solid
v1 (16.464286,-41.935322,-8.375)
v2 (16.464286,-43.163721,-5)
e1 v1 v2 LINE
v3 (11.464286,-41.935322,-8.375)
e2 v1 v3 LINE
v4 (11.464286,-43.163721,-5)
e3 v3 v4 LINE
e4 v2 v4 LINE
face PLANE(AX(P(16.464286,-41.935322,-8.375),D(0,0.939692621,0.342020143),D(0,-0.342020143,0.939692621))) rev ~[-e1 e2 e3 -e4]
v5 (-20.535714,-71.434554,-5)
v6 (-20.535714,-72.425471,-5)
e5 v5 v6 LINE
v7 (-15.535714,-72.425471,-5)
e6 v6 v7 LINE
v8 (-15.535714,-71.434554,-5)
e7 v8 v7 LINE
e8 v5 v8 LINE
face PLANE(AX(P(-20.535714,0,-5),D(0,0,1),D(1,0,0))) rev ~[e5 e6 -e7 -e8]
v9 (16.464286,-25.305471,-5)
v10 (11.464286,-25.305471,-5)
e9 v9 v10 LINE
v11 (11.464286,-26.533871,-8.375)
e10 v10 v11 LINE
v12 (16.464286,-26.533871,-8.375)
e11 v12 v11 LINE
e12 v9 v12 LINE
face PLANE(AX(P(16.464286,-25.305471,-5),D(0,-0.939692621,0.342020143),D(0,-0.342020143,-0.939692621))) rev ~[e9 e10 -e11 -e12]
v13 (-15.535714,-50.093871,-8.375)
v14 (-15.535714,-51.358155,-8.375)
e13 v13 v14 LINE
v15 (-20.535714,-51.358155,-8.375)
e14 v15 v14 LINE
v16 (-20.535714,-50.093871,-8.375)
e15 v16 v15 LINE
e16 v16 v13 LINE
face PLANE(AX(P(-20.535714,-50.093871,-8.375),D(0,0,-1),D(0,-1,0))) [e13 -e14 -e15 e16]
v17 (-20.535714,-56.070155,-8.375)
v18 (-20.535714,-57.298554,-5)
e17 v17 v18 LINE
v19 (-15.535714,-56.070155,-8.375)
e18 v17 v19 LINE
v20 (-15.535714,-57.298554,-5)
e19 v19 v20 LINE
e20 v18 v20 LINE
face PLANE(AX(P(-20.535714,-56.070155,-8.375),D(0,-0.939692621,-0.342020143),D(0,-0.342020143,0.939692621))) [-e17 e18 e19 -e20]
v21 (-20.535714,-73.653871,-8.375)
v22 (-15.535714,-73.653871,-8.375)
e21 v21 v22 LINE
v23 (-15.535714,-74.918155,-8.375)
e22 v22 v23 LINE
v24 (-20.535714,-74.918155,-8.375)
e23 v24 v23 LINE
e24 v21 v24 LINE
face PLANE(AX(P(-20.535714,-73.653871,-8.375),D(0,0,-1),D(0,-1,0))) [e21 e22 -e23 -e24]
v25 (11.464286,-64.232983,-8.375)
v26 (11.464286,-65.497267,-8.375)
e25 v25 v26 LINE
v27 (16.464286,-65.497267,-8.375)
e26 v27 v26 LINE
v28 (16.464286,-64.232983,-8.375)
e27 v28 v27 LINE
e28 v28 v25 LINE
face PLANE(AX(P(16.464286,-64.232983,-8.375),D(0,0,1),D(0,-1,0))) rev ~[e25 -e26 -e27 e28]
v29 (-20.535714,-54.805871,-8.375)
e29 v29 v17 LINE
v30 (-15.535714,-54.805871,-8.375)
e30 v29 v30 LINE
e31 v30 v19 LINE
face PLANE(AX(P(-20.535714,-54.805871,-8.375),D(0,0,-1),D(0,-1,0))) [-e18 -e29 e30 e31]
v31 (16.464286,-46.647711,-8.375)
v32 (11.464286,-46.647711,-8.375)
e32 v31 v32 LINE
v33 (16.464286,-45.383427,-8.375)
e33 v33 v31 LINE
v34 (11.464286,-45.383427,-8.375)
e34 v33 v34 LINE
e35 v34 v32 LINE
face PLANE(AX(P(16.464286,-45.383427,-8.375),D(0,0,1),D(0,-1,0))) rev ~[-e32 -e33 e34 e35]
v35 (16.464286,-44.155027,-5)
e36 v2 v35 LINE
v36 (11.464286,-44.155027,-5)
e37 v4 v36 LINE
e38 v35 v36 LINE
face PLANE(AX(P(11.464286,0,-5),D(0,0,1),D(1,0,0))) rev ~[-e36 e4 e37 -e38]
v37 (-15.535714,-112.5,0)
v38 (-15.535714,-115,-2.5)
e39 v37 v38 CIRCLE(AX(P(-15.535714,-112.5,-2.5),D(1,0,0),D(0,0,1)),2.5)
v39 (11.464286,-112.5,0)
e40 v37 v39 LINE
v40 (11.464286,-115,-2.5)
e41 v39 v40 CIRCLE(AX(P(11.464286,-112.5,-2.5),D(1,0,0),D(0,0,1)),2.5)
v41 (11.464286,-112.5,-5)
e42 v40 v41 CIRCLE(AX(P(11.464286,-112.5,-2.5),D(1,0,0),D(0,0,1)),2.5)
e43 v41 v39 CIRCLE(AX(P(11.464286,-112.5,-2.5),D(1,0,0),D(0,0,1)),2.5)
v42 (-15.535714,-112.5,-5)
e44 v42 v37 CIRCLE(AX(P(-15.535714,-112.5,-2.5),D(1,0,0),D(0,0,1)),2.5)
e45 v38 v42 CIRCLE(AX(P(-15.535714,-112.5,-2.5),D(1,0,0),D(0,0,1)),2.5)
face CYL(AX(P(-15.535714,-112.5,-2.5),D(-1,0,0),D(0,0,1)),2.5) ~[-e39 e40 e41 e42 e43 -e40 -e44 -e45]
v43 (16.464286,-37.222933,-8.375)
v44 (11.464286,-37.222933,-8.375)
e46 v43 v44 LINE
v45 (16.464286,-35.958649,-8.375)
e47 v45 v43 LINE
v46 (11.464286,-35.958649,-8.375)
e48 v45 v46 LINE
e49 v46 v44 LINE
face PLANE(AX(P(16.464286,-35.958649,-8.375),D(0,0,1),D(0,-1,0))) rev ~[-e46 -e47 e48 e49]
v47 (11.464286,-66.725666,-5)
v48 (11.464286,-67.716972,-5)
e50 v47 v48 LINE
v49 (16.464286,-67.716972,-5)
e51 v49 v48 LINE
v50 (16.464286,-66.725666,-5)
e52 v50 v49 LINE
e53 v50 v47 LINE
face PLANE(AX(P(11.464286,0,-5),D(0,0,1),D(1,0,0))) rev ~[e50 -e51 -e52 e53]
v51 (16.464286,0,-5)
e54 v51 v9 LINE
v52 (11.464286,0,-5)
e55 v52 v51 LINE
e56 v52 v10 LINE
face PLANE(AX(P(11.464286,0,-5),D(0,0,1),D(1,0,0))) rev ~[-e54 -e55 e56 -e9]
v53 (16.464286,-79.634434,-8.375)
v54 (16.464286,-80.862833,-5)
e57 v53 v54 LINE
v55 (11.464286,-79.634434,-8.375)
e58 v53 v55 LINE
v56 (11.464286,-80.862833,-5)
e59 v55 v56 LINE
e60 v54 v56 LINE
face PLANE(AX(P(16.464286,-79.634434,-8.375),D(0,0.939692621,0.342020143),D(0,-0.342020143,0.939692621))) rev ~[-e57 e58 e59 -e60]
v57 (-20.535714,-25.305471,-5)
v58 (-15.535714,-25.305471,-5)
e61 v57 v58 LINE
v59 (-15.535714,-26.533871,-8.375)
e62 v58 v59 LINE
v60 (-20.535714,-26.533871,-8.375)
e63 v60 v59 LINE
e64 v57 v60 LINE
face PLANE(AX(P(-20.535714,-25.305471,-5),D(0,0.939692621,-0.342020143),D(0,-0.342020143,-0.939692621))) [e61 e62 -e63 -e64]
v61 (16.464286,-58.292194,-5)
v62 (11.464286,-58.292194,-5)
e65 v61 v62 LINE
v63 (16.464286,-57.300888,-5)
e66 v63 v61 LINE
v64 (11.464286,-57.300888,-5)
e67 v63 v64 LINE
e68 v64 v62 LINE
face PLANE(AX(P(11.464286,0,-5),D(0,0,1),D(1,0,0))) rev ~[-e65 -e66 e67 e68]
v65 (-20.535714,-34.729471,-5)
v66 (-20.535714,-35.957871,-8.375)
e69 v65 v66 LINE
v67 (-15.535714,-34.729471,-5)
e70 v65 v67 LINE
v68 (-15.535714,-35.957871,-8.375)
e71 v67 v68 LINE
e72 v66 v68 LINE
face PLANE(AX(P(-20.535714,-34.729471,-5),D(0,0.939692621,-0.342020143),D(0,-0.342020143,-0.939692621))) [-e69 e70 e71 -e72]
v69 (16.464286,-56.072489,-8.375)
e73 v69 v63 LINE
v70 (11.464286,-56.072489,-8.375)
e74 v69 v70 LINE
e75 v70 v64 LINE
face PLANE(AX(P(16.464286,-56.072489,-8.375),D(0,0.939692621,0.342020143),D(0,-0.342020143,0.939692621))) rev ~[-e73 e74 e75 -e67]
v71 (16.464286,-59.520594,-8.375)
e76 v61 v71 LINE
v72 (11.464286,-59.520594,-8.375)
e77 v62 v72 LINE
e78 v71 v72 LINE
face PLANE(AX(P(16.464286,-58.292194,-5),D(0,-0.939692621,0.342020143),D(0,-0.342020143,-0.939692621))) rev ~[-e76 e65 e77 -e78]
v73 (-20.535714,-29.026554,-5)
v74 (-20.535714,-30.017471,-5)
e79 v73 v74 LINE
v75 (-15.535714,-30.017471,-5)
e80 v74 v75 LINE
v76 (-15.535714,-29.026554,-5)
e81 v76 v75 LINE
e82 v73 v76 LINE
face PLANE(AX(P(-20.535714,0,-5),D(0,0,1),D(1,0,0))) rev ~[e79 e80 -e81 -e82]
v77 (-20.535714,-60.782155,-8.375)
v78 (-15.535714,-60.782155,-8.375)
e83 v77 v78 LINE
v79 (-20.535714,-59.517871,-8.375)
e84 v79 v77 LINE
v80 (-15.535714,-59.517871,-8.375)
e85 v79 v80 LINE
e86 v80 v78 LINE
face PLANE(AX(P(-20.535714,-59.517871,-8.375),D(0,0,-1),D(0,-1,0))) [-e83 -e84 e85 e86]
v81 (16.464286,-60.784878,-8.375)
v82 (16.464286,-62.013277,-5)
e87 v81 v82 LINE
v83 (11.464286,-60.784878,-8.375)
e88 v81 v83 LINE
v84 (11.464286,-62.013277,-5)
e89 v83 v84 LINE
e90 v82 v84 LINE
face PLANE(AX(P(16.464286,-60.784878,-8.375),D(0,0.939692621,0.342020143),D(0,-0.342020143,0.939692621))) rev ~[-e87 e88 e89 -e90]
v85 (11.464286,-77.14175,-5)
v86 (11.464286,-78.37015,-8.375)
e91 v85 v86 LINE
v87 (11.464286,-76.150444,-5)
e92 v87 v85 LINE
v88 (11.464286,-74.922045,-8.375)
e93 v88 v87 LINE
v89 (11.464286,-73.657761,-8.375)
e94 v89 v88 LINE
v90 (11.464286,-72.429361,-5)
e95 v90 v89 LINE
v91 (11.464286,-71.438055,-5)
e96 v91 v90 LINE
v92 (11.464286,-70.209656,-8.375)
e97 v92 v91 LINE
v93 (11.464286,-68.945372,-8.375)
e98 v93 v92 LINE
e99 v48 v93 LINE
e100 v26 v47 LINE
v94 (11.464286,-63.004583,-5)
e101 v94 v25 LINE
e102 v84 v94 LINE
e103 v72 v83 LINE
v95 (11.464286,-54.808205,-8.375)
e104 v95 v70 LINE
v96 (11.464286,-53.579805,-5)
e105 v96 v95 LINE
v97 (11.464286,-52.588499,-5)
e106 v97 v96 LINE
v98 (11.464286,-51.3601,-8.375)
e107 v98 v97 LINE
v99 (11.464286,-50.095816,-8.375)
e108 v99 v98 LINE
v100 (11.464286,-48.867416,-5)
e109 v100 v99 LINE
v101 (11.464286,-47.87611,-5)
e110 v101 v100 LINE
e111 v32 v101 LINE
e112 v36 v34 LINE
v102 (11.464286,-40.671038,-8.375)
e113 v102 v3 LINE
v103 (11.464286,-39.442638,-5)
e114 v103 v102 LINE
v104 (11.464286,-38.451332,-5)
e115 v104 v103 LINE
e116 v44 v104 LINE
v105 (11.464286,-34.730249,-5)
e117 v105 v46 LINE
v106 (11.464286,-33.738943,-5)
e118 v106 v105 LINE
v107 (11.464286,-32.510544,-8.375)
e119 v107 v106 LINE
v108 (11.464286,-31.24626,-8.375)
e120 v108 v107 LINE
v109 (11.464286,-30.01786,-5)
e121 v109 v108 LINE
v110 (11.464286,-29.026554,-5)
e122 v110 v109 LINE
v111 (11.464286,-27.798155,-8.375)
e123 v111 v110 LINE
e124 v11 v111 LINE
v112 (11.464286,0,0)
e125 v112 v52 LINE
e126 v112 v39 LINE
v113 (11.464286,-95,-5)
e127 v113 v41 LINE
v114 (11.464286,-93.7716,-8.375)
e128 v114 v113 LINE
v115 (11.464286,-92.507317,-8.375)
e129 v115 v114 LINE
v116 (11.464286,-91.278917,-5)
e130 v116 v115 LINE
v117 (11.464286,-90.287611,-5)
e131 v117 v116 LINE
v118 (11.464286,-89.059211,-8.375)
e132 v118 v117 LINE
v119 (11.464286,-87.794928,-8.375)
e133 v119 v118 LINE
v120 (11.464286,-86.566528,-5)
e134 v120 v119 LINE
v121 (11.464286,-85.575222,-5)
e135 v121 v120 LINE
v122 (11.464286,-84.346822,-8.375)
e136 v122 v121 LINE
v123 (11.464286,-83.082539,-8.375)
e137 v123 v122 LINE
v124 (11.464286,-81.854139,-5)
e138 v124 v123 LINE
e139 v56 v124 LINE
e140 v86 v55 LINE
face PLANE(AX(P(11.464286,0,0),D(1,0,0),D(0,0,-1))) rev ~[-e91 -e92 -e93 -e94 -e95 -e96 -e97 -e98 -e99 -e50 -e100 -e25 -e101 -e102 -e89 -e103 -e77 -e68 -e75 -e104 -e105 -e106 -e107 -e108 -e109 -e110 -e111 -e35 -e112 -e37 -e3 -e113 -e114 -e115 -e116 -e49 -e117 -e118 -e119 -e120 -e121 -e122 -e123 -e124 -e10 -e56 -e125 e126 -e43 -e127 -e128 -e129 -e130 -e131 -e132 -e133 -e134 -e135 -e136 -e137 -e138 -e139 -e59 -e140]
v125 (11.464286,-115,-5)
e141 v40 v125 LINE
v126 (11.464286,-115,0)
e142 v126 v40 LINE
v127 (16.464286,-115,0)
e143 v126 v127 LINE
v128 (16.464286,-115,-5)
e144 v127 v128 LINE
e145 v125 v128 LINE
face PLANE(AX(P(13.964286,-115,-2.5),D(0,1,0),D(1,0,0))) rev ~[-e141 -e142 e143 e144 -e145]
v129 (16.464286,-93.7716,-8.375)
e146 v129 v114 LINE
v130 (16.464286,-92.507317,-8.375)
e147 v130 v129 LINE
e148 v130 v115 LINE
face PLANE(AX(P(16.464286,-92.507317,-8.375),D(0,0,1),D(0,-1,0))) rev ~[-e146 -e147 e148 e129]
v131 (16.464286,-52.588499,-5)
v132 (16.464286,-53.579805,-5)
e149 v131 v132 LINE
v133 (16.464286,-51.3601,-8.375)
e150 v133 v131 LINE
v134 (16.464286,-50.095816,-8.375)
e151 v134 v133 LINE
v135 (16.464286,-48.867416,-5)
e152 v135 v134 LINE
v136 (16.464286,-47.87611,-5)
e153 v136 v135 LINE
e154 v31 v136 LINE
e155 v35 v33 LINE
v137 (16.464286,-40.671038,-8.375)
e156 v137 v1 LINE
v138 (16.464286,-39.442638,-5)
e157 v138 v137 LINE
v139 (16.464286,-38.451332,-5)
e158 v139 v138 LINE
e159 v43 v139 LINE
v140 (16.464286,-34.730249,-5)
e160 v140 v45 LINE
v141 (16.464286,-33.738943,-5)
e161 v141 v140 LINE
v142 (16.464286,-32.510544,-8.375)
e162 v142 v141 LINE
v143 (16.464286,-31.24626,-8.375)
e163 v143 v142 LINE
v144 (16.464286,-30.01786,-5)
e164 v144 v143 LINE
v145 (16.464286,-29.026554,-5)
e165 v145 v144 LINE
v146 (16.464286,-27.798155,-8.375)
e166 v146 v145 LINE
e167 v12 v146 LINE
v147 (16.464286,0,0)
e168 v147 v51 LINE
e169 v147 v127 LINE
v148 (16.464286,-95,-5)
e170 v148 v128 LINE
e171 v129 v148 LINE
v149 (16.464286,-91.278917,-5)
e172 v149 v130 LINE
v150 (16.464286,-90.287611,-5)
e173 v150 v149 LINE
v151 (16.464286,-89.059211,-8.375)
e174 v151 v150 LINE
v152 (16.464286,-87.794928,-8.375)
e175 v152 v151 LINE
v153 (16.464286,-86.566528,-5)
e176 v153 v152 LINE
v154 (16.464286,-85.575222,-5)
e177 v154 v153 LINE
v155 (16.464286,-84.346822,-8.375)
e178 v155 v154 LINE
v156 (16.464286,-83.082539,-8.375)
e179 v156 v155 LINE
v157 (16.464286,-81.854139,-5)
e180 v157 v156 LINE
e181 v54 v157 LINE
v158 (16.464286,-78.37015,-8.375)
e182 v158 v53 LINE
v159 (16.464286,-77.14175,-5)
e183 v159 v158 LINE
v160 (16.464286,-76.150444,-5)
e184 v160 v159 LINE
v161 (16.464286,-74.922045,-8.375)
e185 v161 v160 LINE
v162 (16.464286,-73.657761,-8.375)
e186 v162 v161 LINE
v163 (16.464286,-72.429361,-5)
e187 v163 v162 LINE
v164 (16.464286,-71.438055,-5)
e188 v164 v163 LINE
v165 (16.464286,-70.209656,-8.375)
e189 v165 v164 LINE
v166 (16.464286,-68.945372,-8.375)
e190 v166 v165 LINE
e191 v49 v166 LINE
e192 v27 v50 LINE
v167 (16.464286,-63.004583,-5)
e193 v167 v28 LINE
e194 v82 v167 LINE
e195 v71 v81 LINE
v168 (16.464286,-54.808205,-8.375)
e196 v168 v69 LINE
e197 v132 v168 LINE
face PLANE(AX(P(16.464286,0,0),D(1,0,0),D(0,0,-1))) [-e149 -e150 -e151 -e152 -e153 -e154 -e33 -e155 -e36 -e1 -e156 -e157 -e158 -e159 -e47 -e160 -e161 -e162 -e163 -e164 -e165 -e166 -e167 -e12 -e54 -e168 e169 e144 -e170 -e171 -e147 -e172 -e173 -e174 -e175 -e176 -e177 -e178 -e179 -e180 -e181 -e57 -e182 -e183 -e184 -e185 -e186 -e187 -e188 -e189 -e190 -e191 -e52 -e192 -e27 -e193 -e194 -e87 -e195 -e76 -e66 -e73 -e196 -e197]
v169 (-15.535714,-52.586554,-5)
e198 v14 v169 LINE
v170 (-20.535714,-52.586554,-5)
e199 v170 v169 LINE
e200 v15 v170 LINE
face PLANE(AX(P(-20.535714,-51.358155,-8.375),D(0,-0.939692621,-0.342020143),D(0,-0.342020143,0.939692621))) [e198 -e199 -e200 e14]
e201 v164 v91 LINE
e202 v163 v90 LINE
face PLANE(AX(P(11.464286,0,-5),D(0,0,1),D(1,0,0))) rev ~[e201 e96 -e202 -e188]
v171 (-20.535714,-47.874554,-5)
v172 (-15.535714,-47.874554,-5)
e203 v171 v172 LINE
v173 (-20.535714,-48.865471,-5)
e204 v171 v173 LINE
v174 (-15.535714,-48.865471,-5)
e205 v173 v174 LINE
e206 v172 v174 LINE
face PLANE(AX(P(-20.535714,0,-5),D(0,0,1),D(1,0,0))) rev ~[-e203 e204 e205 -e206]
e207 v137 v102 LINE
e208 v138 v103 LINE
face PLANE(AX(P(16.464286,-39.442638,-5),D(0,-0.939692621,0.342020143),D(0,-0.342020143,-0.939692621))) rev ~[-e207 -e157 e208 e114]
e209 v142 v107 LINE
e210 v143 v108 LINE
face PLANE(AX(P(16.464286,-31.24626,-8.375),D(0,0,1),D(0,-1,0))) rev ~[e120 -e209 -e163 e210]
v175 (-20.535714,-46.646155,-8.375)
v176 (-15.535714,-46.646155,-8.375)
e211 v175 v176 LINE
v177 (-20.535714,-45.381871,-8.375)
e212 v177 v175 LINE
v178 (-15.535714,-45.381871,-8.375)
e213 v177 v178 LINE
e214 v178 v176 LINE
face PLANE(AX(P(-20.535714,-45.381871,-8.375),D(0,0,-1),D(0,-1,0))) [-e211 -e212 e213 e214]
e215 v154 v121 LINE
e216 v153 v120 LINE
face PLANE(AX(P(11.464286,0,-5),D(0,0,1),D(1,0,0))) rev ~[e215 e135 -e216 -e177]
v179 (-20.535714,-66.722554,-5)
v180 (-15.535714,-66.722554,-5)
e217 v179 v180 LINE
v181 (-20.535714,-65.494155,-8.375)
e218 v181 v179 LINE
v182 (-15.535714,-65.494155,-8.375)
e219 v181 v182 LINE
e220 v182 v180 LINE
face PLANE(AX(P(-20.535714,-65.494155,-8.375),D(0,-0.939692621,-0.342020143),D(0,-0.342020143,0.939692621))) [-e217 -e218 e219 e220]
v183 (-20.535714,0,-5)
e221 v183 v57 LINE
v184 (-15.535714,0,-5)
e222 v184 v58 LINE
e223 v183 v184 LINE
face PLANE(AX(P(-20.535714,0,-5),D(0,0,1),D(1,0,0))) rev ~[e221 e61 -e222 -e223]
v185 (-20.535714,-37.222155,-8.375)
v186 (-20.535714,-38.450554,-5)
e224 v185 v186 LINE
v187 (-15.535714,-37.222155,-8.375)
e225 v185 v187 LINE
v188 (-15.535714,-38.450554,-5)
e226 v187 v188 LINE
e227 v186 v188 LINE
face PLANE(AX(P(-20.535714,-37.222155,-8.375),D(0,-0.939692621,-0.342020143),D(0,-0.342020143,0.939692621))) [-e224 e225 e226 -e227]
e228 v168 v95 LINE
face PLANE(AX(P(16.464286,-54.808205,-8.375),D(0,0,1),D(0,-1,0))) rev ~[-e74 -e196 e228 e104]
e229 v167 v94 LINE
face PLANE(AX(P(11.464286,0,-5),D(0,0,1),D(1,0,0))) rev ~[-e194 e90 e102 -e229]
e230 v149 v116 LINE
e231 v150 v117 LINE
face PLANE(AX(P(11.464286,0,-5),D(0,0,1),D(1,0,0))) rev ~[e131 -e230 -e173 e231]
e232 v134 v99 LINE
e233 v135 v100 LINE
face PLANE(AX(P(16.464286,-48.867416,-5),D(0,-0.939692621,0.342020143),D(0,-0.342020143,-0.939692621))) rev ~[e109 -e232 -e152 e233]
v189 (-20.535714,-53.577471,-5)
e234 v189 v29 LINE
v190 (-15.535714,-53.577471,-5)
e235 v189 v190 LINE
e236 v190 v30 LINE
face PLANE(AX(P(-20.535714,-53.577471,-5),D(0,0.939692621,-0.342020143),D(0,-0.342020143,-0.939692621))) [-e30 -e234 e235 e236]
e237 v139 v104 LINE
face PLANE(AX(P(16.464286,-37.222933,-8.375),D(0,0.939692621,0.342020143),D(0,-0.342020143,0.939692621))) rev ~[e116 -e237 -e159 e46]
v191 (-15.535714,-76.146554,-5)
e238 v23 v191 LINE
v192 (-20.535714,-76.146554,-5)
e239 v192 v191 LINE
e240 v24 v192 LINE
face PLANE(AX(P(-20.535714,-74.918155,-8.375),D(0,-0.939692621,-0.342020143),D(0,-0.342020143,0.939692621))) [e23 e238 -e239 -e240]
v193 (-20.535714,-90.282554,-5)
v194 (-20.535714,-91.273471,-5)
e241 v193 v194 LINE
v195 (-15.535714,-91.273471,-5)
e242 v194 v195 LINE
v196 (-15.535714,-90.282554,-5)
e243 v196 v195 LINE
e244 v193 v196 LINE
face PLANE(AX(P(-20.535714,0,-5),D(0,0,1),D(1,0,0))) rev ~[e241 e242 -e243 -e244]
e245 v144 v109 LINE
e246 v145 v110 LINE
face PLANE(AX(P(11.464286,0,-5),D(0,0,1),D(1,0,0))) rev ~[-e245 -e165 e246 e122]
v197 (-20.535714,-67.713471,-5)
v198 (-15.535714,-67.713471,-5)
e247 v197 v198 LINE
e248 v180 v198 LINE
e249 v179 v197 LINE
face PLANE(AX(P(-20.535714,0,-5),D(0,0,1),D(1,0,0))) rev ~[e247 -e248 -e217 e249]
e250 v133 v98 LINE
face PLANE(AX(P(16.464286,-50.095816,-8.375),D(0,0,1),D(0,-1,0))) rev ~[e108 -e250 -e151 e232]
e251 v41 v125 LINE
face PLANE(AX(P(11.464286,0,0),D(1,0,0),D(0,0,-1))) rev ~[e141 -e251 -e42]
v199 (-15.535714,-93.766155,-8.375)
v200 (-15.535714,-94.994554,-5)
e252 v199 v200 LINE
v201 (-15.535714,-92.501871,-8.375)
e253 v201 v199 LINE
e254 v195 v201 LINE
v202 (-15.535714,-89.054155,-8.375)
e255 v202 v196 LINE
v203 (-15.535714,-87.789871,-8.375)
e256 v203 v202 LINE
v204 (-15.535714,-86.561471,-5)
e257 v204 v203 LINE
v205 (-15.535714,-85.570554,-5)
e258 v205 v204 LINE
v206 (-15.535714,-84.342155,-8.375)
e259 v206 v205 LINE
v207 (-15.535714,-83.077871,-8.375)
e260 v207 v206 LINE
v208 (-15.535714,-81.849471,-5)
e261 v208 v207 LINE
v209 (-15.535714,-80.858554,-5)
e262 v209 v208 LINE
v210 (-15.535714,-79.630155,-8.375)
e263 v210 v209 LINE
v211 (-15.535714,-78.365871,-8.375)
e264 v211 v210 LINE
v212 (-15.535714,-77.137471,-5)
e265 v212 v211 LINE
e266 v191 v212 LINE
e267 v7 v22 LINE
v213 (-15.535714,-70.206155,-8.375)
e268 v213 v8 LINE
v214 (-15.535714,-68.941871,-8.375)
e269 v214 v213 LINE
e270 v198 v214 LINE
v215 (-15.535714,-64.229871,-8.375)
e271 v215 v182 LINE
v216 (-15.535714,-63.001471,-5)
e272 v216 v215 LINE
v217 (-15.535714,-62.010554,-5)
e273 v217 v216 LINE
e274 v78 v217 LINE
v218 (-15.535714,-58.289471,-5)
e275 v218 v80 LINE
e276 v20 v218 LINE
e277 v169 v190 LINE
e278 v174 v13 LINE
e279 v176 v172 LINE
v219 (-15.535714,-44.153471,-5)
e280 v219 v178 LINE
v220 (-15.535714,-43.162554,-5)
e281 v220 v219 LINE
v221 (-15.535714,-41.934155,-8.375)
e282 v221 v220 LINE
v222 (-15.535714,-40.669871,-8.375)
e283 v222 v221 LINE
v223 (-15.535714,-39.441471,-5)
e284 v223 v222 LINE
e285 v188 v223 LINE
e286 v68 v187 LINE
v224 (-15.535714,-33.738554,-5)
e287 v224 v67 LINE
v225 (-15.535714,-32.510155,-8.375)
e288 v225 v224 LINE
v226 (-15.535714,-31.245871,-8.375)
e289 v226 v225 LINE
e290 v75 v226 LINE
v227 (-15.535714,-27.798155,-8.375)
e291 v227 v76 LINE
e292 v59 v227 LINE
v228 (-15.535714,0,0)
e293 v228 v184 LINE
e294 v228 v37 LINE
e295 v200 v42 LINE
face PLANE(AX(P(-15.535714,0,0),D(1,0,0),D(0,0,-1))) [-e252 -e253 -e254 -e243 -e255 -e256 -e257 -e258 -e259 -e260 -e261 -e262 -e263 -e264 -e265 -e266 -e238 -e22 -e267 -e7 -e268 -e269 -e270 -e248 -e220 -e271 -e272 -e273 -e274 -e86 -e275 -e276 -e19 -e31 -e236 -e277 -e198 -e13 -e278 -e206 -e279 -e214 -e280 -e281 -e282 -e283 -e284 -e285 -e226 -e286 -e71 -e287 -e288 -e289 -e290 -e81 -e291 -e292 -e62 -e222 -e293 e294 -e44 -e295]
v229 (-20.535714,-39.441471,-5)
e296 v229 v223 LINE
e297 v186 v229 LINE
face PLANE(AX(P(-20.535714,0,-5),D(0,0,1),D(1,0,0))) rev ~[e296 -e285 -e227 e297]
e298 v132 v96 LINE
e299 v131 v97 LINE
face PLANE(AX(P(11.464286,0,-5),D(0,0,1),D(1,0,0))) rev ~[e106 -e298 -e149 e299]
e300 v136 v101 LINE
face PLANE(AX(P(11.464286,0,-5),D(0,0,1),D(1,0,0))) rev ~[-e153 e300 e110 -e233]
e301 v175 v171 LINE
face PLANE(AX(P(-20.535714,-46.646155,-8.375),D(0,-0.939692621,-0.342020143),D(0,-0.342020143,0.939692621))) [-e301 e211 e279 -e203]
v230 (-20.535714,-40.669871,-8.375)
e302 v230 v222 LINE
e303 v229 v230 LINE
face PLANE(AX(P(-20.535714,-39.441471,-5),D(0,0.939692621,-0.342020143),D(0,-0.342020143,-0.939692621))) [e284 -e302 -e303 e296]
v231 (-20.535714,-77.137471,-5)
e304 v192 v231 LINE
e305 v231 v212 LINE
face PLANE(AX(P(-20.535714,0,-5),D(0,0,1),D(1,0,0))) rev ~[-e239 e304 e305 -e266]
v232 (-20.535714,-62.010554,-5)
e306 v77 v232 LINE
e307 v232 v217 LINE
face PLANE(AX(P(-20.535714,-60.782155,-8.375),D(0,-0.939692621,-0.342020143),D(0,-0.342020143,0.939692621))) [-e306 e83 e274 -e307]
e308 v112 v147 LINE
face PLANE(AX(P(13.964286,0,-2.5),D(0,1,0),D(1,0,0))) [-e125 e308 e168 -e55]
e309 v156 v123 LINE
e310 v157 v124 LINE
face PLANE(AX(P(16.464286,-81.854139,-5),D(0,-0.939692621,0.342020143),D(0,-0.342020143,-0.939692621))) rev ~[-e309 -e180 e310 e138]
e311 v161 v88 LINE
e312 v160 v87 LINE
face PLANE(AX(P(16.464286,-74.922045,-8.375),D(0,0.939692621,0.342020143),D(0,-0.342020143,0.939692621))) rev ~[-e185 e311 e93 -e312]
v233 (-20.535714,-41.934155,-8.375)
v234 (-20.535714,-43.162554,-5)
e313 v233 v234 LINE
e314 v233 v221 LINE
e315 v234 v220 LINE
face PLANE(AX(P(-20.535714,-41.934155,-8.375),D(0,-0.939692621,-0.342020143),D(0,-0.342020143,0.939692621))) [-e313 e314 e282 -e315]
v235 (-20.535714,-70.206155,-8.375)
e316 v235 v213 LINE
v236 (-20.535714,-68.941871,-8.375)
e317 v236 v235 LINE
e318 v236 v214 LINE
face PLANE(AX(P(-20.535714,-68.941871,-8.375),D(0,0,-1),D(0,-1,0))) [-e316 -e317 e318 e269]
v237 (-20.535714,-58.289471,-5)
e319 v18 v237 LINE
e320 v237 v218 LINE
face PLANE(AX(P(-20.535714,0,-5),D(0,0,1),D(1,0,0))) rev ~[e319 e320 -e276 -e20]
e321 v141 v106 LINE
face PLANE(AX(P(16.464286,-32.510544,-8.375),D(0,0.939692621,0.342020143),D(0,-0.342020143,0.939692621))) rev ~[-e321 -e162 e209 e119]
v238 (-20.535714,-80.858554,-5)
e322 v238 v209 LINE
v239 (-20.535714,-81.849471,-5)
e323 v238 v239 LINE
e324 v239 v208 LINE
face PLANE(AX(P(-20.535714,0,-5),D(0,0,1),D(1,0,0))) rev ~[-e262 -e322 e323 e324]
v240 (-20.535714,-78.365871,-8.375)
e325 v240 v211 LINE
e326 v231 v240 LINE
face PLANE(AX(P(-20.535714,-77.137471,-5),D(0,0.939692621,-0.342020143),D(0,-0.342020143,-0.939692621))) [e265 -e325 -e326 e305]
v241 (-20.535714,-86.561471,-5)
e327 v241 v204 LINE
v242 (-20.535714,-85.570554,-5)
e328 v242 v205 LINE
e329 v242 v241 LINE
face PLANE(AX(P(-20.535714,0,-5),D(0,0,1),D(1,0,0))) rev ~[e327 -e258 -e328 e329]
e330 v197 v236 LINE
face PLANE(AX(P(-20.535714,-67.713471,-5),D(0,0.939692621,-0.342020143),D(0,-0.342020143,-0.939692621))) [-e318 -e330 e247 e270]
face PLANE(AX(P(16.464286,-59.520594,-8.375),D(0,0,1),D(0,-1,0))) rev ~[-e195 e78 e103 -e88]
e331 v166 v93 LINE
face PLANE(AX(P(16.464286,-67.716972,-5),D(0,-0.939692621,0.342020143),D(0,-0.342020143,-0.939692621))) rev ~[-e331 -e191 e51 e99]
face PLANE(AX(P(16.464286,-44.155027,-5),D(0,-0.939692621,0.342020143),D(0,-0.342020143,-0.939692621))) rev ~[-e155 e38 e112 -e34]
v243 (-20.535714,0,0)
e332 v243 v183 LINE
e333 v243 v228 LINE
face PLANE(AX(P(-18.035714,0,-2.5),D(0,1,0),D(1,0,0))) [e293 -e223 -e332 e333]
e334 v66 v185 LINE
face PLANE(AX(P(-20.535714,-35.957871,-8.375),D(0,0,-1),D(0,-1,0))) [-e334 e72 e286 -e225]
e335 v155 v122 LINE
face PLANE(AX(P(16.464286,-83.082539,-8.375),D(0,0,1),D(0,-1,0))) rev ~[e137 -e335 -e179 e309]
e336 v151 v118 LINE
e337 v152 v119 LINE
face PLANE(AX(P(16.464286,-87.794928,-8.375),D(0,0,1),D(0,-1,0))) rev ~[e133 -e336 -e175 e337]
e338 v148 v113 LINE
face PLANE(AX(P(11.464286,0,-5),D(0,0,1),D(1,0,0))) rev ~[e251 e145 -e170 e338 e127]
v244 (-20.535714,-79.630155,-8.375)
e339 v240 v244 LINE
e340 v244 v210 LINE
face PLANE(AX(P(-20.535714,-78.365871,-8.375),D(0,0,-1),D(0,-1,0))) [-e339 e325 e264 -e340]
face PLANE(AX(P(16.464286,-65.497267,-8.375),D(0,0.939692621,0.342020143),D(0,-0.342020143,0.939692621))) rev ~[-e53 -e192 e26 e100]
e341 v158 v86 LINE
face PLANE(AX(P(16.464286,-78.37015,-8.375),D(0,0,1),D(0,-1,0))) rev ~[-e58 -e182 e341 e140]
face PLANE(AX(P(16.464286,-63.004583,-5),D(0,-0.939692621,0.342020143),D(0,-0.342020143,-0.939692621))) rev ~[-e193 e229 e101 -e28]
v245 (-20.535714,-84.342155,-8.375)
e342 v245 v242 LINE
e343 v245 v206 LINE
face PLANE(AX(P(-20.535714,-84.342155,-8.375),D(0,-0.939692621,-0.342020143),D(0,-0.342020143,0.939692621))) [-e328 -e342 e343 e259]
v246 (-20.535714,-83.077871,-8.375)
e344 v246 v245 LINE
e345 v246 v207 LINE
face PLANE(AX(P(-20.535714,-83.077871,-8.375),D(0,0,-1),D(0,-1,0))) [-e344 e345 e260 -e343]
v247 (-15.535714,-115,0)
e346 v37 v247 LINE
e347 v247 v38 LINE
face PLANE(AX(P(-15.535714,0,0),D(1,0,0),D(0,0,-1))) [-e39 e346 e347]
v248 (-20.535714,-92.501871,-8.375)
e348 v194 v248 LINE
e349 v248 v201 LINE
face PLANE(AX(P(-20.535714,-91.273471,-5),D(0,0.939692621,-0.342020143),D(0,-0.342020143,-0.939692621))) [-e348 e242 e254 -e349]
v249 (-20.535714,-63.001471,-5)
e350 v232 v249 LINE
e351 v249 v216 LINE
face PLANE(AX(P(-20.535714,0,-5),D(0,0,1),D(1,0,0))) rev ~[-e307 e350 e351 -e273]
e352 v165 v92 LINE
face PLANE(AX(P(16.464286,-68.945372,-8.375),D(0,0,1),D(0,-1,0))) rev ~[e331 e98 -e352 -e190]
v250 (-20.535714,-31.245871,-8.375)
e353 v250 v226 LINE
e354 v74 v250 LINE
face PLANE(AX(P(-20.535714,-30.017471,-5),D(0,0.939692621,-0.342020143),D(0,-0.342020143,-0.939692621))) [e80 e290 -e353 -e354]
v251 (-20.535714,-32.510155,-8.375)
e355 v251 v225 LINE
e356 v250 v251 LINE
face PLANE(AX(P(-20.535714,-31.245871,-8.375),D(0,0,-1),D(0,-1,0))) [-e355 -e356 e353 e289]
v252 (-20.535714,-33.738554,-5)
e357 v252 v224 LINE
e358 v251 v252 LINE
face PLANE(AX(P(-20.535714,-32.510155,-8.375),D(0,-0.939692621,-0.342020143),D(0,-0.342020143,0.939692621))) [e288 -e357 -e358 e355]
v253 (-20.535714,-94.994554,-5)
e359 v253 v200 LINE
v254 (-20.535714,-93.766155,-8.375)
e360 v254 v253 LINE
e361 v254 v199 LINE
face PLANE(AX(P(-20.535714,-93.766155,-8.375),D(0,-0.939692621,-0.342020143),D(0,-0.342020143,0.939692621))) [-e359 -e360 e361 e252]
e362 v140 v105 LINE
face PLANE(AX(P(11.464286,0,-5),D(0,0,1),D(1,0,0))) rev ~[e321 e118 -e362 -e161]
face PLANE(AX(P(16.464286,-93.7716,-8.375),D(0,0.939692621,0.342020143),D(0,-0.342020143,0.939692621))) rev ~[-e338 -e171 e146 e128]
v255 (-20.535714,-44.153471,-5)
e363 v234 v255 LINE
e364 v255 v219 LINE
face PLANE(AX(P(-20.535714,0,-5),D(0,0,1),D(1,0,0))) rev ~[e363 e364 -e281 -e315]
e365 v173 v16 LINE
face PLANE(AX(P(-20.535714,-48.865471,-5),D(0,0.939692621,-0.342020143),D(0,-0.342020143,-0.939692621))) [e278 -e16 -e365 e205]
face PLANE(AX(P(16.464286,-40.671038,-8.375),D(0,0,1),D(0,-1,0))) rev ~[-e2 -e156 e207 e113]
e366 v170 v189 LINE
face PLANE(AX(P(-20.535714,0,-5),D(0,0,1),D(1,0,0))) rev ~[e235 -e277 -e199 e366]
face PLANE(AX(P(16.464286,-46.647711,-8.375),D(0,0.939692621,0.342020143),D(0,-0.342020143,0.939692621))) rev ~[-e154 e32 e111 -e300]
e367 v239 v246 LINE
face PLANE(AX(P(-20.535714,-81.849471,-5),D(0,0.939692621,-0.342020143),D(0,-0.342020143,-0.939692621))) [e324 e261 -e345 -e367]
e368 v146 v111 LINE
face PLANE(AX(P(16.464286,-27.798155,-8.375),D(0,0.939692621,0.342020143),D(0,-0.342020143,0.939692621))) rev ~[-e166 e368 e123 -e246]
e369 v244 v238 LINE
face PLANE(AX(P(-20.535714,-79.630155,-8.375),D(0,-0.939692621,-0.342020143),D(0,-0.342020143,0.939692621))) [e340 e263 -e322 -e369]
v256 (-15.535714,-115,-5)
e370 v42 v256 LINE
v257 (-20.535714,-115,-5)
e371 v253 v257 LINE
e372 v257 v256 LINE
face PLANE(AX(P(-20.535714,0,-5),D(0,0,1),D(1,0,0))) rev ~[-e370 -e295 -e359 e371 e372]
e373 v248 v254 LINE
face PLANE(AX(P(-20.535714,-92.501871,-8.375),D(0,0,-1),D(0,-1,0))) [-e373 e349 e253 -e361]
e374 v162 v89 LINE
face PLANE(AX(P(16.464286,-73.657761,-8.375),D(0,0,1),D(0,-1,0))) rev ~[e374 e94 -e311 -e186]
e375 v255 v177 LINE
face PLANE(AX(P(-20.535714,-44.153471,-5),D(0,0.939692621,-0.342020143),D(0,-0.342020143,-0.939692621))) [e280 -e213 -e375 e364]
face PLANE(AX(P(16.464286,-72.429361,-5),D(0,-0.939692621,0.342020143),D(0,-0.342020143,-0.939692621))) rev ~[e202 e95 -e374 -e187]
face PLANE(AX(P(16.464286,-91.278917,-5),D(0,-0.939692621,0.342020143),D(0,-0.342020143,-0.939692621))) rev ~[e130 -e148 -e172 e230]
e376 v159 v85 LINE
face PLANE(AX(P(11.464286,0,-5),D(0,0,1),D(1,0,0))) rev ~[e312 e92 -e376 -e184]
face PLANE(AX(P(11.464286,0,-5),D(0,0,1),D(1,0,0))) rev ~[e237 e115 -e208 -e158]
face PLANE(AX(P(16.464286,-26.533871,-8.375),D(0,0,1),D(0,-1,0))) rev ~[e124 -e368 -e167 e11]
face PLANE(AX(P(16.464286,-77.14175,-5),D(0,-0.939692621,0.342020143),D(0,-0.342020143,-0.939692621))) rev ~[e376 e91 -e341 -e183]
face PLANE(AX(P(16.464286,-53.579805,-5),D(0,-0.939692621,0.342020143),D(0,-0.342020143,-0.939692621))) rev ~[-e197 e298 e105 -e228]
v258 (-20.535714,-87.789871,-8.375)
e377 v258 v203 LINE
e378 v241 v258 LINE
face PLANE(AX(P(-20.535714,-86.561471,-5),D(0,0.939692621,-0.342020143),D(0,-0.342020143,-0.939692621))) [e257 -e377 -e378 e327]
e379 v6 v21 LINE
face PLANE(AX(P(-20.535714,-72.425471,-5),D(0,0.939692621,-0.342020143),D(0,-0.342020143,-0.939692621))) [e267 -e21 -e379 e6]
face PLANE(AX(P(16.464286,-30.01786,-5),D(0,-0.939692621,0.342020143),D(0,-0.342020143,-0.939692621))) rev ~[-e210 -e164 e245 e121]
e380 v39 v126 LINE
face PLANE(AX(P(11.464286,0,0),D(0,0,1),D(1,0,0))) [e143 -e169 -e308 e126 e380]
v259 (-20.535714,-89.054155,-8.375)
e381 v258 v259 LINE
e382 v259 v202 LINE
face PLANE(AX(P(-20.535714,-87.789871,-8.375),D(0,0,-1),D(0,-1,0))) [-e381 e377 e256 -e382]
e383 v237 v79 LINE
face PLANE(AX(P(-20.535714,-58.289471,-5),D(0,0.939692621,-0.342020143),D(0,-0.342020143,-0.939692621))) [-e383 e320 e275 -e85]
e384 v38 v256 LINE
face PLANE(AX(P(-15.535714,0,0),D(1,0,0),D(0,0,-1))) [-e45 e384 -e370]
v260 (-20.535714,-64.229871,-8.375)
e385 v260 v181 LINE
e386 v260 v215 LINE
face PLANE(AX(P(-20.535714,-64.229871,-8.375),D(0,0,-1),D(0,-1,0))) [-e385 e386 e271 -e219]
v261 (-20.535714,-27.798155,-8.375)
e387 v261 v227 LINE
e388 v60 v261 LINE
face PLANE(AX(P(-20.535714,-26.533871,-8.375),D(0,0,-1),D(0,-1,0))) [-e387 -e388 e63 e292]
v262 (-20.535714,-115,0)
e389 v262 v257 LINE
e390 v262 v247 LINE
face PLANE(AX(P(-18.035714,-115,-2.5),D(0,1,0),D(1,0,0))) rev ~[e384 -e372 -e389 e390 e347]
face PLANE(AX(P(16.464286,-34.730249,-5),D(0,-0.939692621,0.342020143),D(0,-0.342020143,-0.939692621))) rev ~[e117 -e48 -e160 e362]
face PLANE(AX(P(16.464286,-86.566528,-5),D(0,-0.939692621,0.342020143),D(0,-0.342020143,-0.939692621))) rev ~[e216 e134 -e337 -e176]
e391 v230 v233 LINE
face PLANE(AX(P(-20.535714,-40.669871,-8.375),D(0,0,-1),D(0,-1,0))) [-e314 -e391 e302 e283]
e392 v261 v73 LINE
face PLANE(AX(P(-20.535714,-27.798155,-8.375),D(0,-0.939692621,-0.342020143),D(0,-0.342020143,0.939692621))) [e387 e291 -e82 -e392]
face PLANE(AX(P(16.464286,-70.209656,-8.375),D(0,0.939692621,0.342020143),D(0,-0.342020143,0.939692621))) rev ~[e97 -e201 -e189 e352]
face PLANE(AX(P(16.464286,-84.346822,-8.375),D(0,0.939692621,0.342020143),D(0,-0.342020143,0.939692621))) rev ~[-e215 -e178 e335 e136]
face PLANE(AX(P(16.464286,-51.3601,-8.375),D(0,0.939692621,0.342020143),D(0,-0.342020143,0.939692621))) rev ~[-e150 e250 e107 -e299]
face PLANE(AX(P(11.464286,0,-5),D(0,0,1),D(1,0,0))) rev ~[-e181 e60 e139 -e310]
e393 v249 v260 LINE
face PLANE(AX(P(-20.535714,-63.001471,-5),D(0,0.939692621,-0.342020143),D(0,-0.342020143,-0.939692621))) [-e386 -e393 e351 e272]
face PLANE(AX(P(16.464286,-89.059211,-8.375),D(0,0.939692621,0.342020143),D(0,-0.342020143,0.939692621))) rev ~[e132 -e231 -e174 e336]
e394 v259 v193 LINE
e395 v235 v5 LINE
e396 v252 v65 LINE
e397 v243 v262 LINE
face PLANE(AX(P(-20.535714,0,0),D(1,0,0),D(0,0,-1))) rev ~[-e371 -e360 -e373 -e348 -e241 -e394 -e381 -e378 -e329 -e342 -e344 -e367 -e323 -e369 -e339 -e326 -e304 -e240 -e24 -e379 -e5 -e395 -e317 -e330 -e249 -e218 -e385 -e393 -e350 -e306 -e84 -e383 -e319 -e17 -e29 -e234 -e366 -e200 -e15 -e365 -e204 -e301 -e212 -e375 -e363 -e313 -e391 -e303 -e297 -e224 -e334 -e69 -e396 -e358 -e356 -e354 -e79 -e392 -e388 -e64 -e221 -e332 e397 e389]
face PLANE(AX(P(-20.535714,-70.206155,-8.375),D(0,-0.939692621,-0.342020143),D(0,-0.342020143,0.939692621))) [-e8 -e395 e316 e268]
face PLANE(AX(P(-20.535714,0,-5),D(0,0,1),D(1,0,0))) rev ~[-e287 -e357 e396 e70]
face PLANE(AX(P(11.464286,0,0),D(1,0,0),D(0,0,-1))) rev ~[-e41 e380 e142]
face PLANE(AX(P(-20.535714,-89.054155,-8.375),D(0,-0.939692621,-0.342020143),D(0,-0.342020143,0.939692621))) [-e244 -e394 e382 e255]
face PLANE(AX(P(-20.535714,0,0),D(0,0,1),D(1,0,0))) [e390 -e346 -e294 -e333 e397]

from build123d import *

# Parameters (mm, degrees)
SKETCH_1_W             = 5
SKETCH_1_H             = 5
EXTRUDE_2_DEPTH        = 115
EXTRUDE_2_2_DEPTH      = 115
SKETCH_2_R             = 2.5
EXTRUDE_3_DEPTH        = 27
EXTRUDE_5_DEPTH        = 5
PATTERN_LINEAR_1_COUNT = 15
PATTERN_LINEAR_1_PITCH = 4.71238898
EXTRUDE_6_DEPTH        = 5
PATTERN_LINEAR_2_COUNT = 15
PATTERN_LINEAR_2_PITCH = 4.712


with BuildPart() as part:
    # ｽｹｯﾁ1 → ﾎﾞｽ - 押し出し2 (new body)
    with BuildSketch(Plane(origin=(0, 0, 0), x_dir=(1, 0, 0), z_dir=(0, 1, 0))):
        with Locations((-18.035714286, 2.5)):
            Rectangle(SKETCH_1_W, SKETCH_1_H)
    extrude(amount=-EXTRUDE_2_DEPTH)



with BuildPart() as body_2:
    # ｽｹｯﾁ1 → Extrude 2 2 (new body)
    with BuildSketch(Plane(origin=(0, 0, 0), x_dir=(1, 0, 0), z_dir=(0, 1, 0))):
        with Locations((13.964285714, 2.5)):
            Rectangle(SKETCH_1_W, SKETCH_1_H)
    extrude(amount=-EXTRUDE_2_2_DEPTH)


with BuildPart() as part_1:
    add(part.part)

    add(body_2.part)  # ﾎﾞｽ - 押し出し3 merges body 2
    # ｽｹｯﾁ2 → ﾎﾞｽ - 押し出し3 (add)
    with BuildSketch(Plane(origin=(-15.535714286, 0, 0), x_dir=(0, 0, -1), z_dir=(1, 0, 0))):
        with Locations(Location((2.5, -112.5, 0), (0, 0, 180))):
            Circle(SKETCH_2_R)
    extrude(amount=EXTRUDE_3_DEPTH)

    # ｽｹｯﾁ3 → ﾎﾞｽ - 押し出し5 (add)
    with BuildSketch(Plane(origin=(16.464285714, 0, 0), x_dir=(0, 0, -1), z_dir=(1, 0, 0))):
        Polygon((5, -91.278917131), (8.375, -92.507316672), (8.375, -93.771600459), (5, -95), align=None)
    extrude_5 = extrude(amount=-EXTRUDE_5_DEPTH)

    # 直線ﾊﾟﾀｰﾝ1: ﾎﾞｽ - 押し出し5 ×15
    with Locations(*[(0, i * PATTERN_LINEAR_1_PITCH, 0) for i in range(1, PATTERN_LINEAR_1_COUNT)]):
        add(extrude_5)

    # ｽｹｯﾁ4 → ﾎﾞｽ - 押し出し6 (add)
    with BuildSketch(Plane.ZY.offset(20.535714286)):
        Polygon((-5, -25.305471406), (-8.375, -26.533870947), (-8.375, -27.798154734), (-5, -29.026554275), align=None)
    extrude_6 = extrude(amount=-EXTRUDE_6_DEPTH)

    # 直線ﾊﾟﾀｰﾝ2: ﾎﾞｽ - 押し出し6 ×15
    with Locations(*[(0, -i * PATTERN_LINEAR_2_PITCH, 0) for i in range(1, PATTERN_LINEAR_2_COUNT)]):
        add(extrude_6)


solid = part_1.part
